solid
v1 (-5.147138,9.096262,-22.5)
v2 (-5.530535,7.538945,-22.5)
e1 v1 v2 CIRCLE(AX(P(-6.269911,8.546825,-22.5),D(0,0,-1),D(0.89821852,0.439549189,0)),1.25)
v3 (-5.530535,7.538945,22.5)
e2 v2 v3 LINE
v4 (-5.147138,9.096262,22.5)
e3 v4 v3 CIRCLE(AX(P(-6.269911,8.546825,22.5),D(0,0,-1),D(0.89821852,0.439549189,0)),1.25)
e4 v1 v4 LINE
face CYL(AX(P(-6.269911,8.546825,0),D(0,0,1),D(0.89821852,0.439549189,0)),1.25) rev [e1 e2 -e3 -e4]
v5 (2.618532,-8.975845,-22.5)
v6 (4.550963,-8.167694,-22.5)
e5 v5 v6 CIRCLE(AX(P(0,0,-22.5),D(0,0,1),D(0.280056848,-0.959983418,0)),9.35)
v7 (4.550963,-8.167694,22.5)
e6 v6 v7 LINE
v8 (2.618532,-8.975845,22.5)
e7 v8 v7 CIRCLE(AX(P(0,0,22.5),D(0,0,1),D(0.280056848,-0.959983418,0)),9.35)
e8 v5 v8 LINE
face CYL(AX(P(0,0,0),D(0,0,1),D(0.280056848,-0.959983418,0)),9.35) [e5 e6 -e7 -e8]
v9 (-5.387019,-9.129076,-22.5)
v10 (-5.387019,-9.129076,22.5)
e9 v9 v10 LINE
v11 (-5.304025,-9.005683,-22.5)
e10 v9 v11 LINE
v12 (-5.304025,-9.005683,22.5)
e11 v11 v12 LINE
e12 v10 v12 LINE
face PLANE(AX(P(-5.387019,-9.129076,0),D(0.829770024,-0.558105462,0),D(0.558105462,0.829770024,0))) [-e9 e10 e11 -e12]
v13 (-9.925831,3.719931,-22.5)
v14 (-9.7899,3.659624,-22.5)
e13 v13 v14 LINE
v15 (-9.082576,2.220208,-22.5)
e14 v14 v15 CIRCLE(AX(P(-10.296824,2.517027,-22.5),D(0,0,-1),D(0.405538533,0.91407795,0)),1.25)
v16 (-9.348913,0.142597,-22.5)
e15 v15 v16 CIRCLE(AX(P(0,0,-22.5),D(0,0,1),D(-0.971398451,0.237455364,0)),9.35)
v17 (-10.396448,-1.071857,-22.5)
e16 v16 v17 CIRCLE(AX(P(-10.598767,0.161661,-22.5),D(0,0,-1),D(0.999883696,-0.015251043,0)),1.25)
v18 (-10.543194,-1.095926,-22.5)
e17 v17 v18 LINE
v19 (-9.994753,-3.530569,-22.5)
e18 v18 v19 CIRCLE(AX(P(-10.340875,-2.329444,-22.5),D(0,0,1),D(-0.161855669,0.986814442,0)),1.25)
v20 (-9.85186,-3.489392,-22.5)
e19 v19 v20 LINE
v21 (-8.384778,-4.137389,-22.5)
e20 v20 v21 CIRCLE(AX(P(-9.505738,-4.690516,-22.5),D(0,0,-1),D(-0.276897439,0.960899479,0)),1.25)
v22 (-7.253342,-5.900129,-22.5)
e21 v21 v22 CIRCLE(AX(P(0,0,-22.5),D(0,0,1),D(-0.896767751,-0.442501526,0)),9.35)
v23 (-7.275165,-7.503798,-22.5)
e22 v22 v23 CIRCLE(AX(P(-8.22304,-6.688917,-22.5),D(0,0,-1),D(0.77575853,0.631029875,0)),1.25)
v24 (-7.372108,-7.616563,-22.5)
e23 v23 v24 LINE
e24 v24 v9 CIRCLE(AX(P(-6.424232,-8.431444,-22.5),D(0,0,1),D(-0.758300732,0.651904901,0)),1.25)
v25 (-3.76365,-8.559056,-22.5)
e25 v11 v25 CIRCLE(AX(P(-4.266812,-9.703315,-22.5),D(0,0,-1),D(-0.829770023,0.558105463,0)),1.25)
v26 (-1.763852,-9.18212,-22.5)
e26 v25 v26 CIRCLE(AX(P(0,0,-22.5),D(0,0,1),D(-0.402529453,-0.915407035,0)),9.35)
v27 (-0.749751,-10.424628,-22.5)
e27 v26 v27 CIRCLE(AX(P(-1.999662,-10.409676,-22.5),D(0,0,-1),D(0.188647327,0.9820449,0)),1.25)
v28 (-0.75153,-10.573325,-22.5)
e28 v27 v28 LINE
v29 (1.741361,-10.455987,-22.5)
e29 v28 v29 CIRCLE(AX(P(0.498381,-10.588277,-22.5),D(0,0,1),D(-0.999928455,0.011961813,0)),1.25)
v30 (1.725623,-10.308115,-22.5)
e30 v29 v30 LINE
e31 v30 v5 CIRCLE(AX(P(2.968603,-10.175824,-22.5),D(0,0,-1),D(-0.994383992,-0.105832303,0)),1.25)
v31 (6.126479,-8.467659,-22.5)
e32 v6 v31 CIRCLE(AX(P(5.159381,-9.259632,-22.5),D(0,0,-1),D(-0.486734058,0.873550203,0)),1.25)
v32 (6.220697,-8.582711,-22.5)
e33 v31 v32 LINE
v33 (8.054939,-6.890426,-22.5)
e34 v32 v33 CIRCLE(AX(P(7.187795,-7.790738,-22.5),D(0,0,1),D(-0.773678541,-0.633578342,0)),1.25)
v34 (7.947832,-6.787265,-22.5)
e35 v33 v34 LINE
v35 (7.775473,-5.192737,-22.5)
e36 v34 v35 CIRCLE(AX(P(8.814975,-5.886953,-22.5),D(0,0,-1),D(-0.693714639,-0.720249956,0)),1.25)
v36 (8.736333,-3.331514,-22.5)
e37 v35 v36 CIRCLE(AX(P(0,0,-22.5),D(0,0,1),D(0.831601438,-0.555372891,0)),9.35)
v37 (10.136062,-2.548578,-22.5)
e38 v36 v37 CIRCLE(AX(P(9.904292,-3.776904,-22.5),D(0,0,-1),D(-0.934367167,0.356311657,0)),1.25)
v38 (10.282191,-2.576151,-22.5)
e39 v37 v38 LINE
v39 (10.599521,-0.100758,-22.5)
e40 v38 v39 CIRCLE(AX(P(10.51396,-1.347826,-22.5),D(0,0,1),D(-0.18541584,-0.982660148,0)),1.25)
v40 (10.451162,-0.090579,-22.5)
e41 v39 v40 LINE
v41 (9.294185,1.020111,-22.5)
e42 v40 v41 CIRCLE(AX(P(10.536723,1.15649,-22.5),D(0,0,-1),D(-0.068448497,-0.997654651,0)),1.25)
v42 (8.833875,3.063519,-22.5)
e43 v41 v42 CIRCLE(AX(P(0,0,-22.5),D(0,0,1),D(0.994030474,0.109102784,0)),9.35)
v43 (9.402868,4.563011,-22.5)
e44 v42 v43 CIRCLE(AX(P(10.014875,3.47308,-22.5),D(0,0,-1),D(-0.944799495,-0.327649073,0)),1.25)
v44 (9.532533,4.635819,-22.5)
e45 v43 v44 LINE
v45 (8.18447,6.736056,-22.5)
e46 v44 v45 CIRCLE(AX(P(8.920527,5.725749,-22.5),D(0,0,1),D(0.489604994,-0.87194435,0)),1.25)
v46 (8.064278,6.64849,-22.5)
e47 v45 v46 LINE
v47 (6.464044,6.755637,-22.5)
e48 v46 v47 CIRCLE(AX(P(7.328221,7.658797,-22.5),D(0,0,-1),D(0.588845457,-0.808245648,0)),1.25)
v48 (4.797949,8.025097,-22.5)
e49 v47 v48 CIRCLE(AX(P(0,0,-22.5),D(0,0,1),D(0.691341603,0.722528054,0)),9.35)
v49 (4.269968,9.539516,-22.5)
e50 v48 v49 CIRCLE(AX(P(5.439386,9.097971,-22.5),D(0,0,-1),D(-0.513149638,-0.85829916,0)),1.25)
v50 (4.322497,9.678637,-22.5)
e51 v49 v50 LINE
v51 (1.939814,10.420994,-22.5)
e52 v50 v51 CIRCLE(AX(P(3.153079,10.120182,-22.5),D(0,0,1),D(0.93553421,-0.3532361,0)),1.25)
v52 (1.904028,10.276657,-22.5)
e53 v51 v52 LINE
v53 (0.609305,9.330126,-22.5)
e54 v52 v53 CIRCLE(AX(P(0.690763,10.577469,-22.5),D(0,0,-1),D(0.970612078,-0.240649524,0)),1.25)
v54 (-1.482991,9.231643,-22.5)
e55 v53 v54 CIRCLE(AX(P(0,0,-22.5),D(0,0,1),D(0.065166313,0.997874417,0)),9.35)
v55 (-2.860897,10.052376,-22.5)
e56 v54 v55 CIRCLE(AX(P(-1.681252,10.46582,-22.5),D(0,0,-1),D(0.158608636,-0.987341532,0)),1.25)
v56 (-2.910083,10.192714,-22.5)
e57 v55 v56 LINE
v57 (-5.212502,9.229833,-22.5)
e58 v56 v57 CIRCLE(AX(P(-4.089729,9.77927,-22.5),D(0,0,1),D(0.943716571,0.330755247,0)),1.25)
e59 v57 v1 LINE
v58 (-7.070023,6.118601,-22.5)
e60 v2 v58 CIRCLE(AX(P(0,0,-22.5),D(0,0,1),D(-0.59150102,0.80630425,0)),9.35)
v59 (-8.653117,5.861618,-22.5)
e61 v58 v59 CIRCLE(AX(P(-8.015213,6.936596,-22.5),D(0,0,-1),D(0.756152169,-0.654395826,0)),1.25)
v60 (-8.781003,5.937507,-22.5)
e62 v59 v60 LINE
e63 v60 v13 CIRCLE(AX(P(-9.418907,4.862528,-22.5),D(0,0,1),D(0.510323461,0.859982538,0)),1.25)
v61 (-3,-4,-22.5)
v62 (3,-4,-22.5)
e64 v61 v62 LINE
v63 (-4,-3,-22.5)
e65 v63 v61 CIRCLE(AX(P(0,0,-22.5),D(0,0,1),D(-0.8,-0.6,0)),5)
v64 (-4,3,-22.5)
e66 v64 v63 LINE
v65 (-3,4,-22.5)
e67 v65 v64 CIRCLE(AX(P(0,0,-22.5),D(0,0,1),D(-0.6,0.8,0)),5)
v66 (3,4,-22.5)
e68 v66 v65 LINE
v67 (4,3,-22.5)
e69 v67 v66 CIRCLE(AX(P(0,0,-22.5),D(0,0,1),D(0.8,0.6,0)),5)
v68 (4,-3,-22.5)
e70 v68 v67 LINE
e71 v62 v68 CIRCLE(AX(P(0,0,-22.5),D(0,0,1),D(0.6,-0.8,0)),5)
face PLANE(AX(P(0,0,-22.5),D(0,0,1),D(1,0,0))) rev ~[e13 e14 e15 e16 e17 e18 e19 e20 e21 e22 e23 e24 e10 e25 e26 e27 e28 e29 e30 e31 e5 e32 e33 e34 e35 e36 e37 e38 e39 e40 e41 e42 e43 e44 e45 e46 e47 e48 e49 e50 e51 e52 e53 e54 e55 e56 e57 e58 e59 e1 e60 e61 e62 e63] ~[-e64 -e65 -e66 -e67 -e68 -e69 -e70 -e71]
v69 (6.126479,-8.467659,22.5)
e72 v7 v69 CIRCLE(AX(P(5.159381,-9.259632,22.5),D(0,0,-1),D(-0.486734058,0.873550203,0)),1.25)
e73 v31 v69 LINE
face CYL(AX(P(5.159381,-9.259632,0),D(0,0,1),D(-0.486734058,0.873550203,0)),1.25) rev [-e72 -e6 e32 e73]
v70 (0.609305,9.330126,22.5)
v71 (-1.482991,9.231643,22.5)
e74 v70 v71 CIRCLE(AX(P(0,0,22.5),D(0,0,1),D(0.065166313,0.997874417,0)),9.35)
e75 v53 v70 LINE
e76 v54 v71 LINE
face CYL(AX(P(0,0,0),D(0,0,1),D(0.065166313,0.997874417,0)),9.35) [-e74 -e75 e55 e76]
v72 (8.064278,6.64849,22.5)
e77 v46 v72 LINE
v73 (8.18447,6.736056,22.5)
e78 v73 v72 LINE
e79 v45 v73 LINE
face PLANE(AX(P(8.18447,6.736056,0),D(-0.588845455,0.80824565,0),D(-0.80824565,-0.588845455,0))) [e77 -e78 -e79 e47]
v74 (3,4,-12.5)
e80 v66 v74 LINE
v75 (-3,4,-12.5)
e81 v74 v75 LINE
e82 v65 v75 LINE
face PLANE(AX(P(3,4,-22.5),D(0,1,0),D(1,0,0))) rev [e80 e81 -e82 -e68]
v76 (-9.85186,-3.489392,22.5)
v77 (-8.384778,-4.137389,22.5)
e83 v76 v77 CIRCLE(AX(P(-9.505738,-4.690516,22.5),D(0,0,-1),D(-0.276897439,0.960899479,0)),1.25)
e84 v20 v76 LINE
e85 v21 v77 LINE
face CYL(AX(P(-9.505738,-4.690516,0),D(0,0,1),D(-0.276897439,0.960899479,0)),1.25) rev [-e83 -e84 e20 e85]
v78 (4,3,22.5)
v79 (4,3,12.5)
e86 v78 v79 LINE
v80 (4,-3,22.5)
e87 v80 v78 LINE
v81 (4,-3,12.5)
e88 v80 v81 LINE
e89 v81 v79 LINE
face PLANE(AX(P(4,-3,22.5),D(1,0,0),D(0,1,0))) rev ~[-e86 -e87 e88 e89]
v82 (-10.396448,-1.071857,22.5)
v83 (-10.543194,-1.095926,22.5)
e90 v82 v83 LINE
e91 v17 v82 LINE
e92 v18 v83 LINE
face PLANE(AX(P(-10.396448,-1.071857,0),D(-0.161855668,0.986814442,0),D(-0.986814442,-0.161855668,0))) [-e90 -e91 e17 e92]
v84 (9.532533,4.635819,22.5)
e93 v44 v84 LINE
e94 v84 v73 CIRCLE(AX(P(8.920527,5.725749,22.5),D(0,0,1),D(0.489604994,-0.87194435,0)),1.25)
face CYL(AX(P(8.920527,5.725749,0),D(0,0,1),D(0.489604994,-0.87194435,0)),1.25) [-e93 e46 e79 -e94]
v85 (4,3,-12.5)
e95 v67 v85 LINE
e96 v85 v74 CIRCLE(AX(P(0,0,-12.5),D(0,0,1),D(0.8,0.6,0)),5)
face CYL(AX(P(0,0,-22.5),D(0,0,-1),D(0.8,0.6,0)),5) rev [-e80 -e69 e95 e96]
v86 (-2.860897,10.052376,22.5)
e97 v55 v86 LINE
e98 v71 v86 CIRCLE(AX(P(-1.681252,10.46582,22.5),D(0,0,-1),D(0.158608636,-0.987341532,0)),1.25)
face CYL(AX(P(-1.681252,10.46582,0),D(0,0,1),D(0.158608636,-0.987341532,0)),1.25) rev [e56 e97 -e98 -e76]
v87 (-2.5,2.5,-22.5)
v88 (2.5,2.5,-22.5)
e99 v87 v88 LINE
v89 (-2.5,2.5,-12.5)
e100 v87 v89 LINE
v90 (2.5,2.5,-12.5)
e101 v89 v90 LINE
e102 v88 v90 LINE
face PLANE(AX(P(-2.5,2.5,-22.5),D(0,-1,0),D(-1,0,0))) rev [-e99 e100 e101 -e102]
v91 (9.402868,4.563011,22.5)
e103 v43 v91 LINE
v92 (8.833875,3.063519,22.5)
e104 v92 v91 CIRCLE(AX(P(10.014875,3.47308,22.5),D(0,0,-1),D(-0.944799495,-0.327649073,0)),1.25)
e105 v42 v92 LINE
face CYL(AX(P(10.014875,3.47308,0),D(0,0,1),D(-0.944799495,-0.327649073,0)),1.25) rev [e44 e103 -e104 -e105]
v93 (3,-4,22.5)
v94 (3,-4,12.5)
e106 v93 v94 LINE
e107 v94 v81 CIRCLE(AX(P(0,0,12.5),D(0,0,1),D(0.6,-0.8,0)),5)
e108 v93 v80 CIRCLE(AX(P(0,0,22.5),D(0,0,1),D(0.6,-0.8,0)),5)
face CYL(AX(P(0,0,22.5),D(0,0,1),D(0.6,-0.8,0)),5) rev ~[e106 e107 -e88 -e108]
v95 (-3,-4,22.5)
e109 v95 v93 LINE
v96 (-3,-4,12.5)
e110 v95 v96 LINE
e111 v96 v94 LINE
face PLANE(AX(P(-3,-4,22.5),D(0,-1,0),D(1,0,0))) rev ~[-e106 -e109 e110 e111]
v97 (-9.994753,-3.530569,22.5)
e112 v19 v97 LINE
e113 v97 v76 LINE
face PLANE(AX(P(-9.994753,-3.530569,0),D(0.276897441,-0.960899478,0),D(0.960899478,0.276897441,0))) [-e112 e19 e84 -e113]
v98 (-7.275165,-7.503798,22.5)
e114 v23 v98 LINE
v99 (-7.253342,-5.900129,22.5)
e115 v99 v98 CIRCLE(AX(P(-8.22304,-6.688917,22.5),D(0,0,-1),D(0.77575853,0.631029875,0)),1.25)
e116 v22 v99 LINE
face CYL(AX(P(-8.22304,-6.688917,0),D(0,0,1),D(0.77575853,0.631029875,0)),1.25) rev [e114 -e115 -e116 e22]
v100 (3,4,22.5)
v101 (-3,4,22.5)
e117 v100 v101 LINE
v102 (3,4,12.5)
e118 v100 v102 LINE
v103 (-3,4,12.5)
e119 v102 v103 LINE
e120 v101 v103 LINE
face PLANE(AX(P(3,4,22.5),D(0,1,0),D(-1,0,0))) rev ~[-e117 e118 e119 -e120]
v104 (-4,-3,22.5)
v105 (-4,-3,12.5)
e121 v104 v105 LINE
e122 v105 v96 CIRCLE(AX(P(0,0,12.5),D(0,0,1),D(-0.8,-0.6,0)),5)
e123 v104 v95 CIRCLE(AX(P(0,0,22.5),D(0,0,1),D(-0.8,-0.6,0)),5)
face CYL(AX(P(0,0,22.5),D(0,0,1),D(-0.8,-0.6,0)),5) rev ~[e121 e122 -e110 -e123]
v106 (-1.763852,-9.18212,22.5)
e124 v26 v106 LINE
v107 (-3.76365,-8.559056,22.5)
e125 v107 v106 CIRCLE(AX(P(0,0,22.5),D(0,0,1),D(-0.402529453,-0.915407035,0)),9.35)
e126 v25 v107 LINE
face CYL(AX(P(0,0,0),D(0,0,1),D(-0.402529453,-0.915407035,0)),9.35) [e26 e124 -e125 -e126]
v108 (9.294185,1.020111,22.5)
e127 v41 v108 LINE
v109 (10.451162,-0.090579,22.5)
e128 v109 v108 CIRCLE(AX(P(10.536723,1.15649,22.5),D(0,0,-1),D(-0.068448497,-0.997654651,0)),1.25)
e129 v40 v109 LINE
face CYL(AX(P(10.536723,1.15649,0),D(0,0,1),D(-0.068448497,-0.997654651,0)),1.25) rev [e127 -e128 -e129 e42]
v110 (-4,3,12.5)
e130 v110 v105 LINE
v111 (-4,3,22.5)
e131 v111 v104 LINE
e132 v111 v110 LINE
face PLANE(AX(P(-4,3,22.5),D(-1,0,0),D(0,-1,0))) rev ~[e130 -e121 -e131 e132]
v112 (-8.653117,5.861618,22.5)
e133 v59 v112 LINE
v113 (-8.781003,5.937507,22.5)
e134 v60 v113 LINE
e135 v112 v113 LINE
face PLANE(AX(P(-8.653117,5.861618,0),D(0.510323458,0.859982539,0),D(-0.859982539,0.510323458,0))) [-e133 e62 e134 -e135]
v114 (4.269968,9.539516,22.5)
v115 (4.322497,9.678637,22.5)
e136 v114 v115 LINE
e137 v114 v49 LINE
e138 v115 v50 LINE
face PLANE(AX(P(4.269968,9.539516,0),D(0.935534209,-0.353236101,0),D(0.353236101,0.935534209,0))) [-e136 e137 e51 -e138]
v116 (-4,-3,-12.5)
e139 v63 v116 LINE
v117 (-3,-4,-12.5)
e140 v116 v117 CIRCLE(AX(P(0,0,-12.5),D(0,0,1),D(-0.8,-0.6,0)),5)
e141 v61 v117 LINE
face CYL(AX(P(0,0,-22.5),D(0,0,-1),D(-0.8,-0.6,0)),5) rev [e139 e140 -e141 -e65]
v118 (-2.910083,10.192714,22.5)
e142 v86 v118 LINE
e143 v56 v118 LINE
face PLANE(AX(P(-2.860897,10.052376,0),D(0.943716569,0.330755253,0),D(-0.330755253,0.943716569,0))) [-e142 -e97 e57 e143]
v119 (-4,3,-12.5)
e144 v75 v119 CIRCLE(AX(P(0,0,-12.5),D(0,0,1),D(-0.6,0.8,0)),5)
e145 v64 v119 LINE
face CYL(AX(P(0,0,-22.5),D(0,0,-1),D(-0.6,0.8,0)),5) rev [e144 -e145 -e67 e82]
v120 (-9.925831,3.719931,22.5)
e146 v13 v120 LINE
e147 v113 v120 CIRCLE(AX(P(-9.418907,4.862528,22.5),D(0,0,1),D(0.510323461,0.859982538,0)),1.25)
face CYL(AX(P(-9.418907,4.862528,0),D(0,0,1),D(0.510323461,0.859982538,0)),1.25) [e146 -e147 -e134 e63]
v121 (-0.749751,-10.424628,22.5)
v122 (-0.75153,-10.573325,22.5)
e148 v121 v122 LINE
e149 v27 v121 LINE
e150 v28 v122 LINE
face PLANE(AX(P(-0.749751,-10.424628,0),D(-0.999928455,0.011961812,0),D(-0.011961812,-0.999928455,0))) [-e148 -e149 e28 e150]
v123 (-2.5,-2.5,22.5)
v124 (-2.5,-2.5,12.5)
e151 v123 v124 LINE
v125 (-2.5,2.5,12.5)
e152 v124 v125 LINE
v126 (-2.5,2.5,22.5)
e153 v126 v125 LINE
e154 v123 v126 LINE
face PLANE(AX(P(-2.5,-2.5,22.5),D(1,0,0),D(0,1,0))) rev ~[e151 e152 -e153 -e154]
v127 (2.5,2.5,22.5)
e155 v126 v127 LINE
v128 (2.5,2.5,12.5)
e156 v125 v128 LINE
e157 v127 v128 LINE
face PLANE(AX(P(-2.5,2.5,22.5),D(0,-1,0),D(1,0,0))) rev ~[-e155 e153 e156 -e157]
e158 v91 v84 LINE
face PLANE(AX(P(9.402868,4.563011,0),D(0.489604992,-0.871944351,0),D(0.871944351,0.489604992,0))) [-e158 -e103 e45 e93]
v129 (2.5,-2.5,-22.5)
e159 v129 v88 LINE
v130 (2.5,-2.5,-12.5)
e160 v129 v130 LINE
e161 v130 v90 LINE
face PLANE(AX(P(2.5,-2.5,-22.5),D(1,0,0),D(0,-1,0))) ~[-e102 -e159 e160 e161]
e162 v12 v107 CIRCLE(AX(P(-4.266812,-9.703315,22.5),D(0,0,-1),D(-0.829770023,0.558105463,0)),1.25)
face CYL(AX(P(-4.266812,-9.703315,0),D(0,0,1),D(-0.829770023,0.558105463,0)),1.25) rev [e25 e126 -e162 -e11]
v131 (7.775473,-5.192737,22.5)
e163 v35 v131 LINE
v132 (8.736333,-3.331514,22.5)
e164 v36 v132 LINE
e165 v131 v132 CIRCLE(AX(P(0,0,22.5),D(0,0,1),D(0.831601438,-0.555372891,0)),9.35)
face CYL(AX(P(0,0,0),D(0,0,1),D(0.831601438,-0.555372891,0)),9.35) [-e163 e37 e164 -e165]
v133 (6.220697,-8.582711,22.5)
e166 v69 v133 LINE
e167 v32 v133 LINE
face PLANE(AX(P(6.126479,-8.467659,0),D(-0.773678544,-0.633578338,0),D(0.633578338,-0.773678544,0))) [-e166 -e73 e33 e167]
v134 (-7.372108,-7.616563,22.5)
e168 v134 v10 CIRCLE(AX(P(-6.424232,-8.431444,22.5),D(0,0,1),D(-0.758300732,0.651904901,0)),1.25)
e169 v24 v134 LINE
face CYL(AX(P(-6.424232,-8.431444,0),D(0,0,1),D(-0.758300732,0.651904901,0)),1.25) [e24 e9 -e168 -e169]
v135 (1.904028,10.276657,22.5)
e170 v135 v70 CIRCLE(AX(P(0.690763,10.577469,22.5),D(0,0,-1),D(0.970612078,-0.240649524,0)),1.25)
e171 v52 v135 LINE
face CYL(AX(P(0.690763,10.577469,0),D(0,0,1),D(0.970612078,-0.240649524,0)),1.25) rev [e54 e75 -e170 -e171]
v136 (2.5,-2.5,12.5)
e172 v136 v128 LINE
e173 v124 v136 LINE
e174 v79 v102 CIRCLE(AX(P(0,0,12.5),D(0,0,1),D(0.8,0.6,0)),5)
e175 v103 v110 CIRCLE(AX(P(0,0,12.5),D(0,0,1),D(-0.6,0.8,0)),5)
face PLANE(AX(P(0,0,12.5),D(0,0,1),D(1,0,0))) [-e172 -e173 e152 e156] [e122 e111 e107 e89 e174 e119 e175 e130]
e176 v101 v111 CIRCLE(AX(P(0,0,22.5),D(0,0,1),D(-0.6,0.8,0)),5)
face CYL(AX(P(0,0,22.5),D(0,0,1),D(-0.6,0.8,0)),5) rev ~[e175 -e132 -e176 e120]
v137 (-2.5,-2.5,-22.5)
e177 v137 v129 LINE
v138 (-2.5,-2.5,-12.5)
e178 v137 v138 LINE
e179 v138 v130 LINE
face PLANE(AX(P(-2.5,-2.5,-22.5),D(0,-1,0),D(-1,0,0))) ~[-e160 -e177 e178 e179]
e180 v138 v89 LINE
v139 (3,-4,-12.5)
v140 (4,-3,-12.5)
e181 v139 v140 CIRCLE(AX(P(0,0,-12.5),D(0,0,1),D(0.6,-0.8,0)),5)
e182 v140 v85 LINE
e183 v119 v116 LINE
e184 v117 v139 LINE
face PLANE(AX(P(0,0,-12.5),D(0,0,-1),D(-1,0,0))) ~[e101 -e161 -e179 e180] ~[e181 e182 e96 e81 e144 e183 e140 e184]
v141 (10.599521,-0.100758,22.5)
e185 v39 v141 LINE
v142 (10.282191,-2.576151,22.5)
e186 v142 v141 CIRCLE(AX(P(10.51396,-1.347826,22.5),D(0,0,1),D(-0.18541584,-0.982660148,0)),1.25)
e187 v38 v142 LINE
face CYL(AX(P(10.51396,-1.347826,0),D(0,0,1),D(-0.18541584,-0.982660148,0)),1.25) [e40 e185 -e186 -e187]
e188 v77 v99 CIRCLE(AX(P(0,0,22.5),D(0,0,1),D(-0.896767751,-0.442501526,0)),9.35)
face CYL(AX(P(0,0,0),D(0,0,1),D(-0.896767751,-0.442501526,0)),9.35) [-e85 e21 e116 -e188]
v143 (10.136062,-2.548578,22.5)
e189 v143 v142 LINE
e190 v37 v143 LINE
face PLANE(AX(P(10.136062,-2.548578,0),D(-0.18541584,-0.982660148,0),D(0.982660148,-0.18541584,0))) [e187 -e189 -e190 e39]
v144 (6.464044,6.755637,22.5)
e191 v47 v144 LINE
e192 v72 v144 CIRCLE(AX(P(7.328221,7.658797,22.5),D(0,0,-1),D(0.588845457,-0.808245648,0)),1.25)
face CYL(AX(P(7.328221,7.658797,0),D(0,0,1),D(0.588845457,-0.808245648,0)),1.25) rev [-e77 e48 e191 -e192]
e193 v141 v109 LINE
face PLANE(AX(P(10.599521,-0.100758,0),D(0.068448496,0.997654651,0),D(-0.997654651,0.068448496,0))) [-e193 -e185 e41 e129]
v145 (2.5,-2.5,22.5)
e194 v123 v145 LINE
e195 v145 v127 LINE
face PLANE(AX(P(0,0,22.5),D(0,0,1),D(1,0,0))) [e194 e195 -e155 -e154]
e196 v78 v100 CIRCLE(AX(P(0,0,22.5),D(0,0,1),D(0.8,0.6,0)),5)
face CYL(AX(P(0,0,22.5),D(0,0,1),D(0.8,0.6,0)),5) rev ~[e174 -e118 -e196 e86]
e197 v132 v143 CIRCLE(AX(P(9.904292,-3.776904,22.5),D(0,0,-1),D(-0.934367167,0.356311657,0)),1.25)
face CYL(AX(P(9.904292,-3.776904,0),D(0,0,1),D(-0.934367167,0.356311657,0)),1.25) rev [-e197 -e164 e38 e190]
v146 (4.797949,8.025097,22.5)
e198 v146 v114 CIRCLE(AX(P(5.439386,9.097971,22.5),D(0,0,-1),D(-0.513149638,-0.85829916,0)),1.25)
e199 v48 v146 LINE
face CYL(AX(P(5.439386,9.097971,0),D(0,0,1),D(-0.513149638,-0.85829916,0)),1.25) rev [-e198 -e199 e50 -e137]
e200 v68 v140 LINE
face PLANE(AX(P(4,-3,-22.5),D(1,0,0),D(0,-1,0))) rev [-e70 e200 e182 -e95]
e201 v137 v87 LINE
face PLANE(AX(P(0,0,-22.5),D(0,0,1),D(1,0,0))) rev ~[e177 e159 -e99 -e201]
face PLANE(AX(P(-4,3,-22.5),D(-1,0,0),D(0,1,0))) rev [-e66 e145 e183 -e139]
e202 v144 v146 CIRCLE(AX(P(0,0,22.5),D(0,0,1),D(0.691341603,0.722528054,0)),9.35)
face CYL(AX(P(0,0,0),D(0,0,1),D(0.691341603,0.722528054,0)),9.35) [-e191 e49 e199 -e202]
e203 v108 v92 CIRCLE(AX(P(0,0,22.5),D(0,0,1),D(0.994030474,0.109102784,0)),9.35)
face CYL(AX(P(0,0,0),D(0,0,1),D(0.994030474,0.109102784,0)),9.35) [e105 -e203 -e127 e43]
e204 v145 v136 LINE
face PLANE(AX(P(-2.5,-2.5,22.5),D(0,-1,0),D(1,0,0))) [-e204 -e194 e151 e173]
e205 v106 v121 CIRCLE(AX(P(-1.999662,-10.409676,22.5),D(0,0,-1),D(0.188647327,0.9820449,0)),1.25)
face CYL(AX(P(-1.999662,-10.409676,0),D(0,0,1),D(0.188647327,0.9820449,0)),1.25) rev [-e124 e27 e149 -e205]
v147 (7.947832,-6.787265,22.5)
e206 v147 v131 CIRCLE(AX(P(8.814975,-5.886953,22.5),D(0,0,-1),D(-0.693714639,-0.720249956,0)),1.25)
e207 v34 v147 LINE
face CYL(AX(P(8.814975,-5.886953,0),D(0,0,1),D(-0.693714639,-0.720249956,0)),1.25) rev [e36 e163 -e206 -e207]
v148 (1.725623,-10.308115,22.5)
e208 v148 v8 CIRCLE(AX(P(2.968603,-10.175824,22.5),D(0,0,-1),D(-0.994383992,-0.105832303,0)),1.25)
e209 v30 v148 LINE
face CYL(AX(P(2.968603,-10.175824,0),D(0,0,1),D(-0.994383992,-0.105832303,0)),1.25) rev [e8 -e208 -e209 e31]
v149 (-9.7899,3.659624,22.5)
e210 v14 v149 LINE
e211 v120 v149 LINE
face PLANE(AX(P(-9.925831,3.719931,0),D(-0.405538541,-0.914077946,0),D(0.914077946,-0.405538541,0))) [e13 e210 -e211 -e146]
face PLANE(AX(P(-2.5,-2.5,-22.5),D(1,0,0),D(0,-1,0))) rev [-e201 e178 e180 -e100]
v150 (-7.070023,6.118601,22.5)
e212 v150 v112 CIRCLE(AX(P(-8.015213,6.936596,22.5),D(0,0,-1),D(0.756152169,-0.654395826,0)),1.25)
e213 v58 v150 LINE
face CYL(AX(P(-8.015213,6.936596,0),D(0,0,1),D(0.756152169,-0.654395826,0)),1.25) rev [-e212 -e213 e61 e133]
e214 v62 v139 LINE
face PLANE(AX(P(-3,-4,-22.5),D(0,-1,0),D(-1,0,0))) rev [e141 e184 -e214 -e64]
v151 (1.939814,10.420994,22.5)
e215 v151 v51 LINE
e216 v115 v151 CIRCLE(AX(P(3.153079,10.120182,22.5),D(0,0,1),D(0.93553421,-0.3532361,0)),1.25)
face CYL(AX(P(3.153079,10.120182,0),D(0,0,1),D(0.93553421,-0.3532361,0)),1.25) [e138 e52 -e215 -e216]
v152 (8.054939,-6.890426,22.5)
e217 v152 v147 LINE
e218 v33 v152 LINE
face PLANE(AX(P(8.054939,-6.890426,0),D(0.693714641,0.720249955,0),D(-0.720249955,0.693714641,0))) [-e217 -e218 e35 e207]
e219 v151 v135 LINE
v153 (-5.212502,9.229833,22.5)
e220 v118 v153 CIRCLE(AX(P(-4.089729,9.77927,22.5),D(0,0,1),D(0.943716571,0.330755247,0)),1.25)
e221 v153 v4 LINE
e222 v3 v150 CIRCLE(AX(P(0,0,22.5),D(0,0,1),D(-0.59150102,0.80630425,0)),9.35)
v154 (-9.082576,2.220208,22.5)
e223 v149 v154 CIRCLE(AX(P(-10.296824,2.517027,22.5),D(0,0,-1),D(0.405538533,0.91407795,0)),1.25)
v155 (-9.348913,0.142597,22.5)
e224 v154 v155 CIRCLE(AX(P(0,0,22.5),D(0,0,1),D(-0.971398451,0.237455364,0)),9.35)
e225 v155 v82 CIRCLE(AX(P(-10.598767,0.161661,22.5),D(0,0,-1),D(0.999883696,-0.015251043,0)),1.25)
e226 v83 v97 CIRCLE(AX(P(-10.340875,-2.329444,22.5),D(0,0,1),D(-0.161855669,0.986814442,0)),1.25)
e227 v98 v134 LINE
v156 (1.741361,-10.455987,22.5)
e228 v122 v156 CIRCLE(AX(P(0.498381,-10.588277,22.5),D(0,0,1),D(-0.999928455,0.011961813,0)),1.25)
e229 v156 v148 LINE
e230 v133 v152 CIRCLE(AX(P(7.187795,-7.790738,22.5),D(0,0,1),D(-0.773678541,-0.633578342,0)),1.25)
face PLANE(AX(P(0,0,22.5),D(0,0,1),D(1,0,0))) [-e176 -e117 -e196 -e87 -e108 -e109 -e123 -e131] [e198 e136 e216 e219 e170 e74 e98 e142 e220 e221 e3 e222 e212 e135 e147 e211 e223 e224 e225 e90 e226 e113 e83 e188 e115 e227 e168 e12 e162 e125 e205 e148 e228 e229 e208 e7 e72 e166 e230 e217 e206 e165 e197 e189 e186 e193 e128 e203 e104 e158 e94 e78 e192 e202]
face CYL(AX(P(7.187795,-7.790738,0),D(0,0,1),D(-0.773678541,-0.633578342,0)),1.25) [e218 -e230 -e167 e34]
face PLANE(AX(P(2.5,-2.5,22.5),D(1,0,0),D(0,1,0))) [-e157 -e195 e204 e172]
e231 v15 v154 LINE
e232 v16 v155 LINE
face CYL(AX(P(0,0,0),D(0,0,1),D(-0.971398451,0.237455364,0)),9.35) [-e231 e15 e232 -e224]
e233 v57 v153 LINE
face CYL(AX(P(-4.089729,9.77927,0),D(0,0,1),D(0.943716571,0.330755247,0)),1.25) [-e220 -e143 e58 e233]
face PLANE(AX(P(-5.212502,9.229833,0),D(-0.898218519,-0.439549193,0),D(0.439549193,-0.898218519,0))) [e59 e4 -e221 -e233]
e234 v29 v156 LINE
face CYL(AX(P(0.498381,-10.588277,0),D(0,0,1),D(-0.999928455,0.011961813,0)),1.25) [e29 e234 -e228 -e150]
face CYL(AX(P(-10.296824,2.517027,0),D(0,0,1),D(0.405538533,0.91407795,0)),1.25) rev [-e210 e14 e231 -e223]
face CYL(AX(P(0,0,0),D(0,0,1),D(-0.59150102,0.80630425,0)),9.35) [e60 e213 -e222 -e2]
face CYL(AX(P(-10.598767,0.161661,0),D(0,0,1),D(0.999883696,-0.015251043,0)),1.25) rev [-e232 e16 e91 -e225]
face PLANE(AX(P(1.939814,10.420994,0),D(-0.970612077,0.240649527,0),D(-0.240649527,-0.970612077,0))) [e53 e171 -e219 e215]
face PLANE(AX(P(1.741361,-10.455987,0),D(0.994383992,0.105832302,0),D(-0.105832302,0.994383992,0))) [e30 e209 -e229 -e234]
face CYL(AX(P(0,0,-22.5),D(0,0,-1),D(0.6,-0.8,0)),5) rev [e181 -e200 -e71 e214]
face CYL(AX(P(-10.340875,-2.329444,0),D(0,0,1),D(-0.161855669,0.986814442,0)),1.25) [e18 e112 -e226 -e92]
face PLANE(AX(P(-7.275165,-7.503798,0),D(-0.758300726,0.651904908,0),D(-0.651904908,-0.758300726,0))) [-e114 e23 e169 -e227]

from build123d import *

# Parameters (mm, degrees)
BOSS_EXTRUDE1_DEPTH = 22.5
SKETCH2_W           = 5
SKETCH2_H           = 5
CUT_EXTRUDE1_DEPTH  = 10


with BuildPart() as part:
    # Sketch1 → Boss-Extrude1 (new, symmetric)
    with BuildSketch(Plane.XY):
        with BuildLine():
            Line((1.939814393, 10.4209942), (1.904028006, 10.276656915))
            ThreePointArc((1.904028006, 10.276656915), (1.428480454, 9.568373768), (0.609305018, 9.330125797))
            ThreePointArc((0.609305018, 9.330125797), (-0.439609364, 9.339659716), (-1.482990759, 9.231643321))
            ThreePointArc((-1.482990759, 9.231643321), (-2.320923107, 9.391892722), (-2.860897269, 10.052376178))
            Line((-2.860897269, 10.052376178), (-2.910083052, 10.192713899))
            ThreePointArc((-2.910083052, 10.192713899), (-4.572008101, 10.932485624), (-5.212501917, 9.229833356))
            Line((-5.212501917, 9.229833356), (-5.14713766, 9.096261535))
            ThreePointArc((-5.14713766, 9.096261535), (-5.056152588, 8.248009091), (-5.530534536, 7.538944737))
            ThreePointArc((-5.530534536, 7.538944737), (-6.340177854, 6.872018974), (-7.070022774, 6.118600982))
            ThreePointArc((-7.070022774, 6.118600982), (-7.814922522, 5.702746613), (-8.65311731, 5.861617594))
            Line((-8.65311731, 5.861617594), (-8.781003154, 5.937506514))
            ThreePointArc((-8.781003154, 5.937506514), (-10.529627702, 5.435939703), (-9.925830648, 3.719930906))
            Line((-9.925830648, 3.719930906), (-9.789900412, 3.659624288))
            ThreePointArc((-9.789900412, 3.659624288), (-9.174955642, 3.068309294), (-9.082575516, 2.220207648))
            ThreePointArc((-9.082575516, 2.220207648), (-9.274106664, 1.18888418), (-9.348912558, 0.142597243))
            ThreePointArc((-9.348912558, 0.142597243), (-9.652232836, -0.654778014), (-10.396447593, -1.071857007))
            Line((-10.396447593, -1.071857007), (-10.543194291, -1.095926157))
            ThreePointArc((-10.543194291, -1.095926157), (-11.560317477, -2.604142819), (-9.994752906, -3.530568558))
            Line((-9.994752906, -3.530568558), (-9.851859958, -3.489391835))
            ThreePointArc((-9.851859958, -3.489391835), (-9.000694983, -3.547086522), (-8.38477847, -4.137389275))
            ThreePointArc((-8.38477847, -4.137389275), (-7.868577895, -5.050542735), (-7.253342256, -5.900129331))
            ThreePointArc((-7.253342256, -5.900129331), (-6.973156133, -6.705924732), (-7.275164503, -7.503797802))
            Line((-7.275164503, -7.503797802), (-7.372107645, -7.616562799))
            ThreePointArc((-7.372107645, -7.616562799), (-7.181806226, -9.425717974), (-5.3870192, -9.129075755))
            Line((-5.3870192, -9.129075755), (-5.304024738, -9.005682738))
            ThreePointArc((-5.304024738, -9.005682738), (-4.614909109, -8.502761133), (-3.763650392, -8.559055773))
            ThreePointArc((-3.763650392, -8.559055773), (-2.781254079, -8.926764573), (-1.763852499, -9.182119818))
            ThreePointArc((-1.763852499, -9.182119818), (-1.031262177, -9.61929474), (-0.749751088, -10.424628209))
            Line((-0.749751088, -10.424628209), (-0.751529899, -10.573325059))
            ThreePointArc((-0.751529899, -10.573325059), (0.557151975, -11.836894934), (1.74136066, -10.455986948))
            Line((1.74136066, -10.455986948), (1.725622604, -10.308114601))
            ThreePointArc((1.725622604, -10.308114601), (1.930244025, -9.479899312), (2.618531533, -8.975844952))
            ThreePointArc((2.618531533, -8.975844952), (3.60744943, -8.626054058), (4.550963444, -8.167694395))
            ThreePointArc((4.550963444, -8.167694395), (5.393170812, -8.031689832), (6.126479194, -8.467659221))
            Line((6.126479194, -8.467659221), (6.220697038, -8.582711015))
            ThreePointArc((6.220697038, -8.582711015), (8.035412575, -8.709457202), (8.054938514, -6.890425643))
            Line((8.054938514, -6.890425643), (7.947831951, -6.78726508))
            ThreePointArc((7.947831951, -6.78726508), (7.572214528, -6.021287246), (7.775473452, -5.192736523))
            ThreePointArc((7.775473452, -5.192736523), (8.308187259, -4.289116981), (8.736333014, -3.33151399))
            ThreePointArc((8.736333014, -3.33151399), (9.29407924, -2.68596799), (10.136061773, -2.548578376))
            Line((10.136061773, -2.548578376), (10.282190696, -2.5761511))
            ThreePointArc((10.282190696, -2.5761511), (11.753814328, -1.50676765), (10.599521117, -0.100757601))
            Line((10.599521117, -0.100757601), (10.451162399, -0.090578797))
            ThreePointArc((10.451162399, -0.090578797), (9.671061698, 0.254752041), (9.294184928, 1.020111037))
            ThreePointArc((9.294184928, 1.020111037), (9.121431934, 2.0547456), (8.833875273, 3.063518836))
            ThreePointArc((8.833875273, 3.063518836), (8.8461847, 3.916548126), (9.402868399, 4.563010616))
            Line((9.402868399, 4.563010616), (9.532533054, 4.635818545))
            ThreePointArc((9.532533054, 4.635818545), (9.972475727, 6.400955231), (8.184469989, 6.736056042))
            Line((8.184469989, 6.736056042), (8.064277808, 6.648490313))
            ThreePointArc((8.064277808, 6.648490313), (7.244711617, 6.411590018), (6.464043982, 6.755637305))
            ThreePointArc((6.464043982, 6.755637305), (5.666657234, 7.437169878), (4.797949114, 8.025097152))
            ThreePointArc((4.797949114, 8.025097152), (4.259062024, 8.686467846), (4.269968399, 9.539516228))
            Line((4.269968399, 9.539516228), (4.322497253, 9.678637172))
            ThreePointArc((4.322497253, 9.678637172), (3.524904902, 11.313600021), (1.939814393, 10.4209942))
        make_face()
    extrude(amount=BOSS_EXTRUDE1_DEPTH, both=True)

    # Sketch2 → Cut-Extrude1 (cut)
    with BuildSketch(Plane.XY.offset(22.5)):
        with BuildLine():
            Line((-3, -4), (3, -4))
            ThreePointArc((3, -4), (3.535533906, -3.535533906), (4, -3))
            Line((4, -3), (4, 3))
            ThreePointArc((4, 3), (3.535533906, 3.535533906), (3, 4))
            Line((3, 4), (-3, 4))
            ThreePointArc((-3, 4), (-3.535533906, 3.535533906), (-4, 3))
            Line((-4, 3), (-4, -3))
            ThreePointArc((-4, -3), (-3.535533906, -3.535533906), (-3, -4))
        make_face()
        Rectangle(SKETCH2_W, SKETCH2_H, mode=Mode.SUBTRACT)
    cut_extrude1 = extrude(amount=-CUT_EXTRUDE1_DEPTH, mode=Mode.SUBTRACT)

    # Mirror1: Cut-Extrude1 across plane
    add(cut_extrude1.mirror(Plane.XY), mode=Mode.SUBTRACT)


solid = part.part
